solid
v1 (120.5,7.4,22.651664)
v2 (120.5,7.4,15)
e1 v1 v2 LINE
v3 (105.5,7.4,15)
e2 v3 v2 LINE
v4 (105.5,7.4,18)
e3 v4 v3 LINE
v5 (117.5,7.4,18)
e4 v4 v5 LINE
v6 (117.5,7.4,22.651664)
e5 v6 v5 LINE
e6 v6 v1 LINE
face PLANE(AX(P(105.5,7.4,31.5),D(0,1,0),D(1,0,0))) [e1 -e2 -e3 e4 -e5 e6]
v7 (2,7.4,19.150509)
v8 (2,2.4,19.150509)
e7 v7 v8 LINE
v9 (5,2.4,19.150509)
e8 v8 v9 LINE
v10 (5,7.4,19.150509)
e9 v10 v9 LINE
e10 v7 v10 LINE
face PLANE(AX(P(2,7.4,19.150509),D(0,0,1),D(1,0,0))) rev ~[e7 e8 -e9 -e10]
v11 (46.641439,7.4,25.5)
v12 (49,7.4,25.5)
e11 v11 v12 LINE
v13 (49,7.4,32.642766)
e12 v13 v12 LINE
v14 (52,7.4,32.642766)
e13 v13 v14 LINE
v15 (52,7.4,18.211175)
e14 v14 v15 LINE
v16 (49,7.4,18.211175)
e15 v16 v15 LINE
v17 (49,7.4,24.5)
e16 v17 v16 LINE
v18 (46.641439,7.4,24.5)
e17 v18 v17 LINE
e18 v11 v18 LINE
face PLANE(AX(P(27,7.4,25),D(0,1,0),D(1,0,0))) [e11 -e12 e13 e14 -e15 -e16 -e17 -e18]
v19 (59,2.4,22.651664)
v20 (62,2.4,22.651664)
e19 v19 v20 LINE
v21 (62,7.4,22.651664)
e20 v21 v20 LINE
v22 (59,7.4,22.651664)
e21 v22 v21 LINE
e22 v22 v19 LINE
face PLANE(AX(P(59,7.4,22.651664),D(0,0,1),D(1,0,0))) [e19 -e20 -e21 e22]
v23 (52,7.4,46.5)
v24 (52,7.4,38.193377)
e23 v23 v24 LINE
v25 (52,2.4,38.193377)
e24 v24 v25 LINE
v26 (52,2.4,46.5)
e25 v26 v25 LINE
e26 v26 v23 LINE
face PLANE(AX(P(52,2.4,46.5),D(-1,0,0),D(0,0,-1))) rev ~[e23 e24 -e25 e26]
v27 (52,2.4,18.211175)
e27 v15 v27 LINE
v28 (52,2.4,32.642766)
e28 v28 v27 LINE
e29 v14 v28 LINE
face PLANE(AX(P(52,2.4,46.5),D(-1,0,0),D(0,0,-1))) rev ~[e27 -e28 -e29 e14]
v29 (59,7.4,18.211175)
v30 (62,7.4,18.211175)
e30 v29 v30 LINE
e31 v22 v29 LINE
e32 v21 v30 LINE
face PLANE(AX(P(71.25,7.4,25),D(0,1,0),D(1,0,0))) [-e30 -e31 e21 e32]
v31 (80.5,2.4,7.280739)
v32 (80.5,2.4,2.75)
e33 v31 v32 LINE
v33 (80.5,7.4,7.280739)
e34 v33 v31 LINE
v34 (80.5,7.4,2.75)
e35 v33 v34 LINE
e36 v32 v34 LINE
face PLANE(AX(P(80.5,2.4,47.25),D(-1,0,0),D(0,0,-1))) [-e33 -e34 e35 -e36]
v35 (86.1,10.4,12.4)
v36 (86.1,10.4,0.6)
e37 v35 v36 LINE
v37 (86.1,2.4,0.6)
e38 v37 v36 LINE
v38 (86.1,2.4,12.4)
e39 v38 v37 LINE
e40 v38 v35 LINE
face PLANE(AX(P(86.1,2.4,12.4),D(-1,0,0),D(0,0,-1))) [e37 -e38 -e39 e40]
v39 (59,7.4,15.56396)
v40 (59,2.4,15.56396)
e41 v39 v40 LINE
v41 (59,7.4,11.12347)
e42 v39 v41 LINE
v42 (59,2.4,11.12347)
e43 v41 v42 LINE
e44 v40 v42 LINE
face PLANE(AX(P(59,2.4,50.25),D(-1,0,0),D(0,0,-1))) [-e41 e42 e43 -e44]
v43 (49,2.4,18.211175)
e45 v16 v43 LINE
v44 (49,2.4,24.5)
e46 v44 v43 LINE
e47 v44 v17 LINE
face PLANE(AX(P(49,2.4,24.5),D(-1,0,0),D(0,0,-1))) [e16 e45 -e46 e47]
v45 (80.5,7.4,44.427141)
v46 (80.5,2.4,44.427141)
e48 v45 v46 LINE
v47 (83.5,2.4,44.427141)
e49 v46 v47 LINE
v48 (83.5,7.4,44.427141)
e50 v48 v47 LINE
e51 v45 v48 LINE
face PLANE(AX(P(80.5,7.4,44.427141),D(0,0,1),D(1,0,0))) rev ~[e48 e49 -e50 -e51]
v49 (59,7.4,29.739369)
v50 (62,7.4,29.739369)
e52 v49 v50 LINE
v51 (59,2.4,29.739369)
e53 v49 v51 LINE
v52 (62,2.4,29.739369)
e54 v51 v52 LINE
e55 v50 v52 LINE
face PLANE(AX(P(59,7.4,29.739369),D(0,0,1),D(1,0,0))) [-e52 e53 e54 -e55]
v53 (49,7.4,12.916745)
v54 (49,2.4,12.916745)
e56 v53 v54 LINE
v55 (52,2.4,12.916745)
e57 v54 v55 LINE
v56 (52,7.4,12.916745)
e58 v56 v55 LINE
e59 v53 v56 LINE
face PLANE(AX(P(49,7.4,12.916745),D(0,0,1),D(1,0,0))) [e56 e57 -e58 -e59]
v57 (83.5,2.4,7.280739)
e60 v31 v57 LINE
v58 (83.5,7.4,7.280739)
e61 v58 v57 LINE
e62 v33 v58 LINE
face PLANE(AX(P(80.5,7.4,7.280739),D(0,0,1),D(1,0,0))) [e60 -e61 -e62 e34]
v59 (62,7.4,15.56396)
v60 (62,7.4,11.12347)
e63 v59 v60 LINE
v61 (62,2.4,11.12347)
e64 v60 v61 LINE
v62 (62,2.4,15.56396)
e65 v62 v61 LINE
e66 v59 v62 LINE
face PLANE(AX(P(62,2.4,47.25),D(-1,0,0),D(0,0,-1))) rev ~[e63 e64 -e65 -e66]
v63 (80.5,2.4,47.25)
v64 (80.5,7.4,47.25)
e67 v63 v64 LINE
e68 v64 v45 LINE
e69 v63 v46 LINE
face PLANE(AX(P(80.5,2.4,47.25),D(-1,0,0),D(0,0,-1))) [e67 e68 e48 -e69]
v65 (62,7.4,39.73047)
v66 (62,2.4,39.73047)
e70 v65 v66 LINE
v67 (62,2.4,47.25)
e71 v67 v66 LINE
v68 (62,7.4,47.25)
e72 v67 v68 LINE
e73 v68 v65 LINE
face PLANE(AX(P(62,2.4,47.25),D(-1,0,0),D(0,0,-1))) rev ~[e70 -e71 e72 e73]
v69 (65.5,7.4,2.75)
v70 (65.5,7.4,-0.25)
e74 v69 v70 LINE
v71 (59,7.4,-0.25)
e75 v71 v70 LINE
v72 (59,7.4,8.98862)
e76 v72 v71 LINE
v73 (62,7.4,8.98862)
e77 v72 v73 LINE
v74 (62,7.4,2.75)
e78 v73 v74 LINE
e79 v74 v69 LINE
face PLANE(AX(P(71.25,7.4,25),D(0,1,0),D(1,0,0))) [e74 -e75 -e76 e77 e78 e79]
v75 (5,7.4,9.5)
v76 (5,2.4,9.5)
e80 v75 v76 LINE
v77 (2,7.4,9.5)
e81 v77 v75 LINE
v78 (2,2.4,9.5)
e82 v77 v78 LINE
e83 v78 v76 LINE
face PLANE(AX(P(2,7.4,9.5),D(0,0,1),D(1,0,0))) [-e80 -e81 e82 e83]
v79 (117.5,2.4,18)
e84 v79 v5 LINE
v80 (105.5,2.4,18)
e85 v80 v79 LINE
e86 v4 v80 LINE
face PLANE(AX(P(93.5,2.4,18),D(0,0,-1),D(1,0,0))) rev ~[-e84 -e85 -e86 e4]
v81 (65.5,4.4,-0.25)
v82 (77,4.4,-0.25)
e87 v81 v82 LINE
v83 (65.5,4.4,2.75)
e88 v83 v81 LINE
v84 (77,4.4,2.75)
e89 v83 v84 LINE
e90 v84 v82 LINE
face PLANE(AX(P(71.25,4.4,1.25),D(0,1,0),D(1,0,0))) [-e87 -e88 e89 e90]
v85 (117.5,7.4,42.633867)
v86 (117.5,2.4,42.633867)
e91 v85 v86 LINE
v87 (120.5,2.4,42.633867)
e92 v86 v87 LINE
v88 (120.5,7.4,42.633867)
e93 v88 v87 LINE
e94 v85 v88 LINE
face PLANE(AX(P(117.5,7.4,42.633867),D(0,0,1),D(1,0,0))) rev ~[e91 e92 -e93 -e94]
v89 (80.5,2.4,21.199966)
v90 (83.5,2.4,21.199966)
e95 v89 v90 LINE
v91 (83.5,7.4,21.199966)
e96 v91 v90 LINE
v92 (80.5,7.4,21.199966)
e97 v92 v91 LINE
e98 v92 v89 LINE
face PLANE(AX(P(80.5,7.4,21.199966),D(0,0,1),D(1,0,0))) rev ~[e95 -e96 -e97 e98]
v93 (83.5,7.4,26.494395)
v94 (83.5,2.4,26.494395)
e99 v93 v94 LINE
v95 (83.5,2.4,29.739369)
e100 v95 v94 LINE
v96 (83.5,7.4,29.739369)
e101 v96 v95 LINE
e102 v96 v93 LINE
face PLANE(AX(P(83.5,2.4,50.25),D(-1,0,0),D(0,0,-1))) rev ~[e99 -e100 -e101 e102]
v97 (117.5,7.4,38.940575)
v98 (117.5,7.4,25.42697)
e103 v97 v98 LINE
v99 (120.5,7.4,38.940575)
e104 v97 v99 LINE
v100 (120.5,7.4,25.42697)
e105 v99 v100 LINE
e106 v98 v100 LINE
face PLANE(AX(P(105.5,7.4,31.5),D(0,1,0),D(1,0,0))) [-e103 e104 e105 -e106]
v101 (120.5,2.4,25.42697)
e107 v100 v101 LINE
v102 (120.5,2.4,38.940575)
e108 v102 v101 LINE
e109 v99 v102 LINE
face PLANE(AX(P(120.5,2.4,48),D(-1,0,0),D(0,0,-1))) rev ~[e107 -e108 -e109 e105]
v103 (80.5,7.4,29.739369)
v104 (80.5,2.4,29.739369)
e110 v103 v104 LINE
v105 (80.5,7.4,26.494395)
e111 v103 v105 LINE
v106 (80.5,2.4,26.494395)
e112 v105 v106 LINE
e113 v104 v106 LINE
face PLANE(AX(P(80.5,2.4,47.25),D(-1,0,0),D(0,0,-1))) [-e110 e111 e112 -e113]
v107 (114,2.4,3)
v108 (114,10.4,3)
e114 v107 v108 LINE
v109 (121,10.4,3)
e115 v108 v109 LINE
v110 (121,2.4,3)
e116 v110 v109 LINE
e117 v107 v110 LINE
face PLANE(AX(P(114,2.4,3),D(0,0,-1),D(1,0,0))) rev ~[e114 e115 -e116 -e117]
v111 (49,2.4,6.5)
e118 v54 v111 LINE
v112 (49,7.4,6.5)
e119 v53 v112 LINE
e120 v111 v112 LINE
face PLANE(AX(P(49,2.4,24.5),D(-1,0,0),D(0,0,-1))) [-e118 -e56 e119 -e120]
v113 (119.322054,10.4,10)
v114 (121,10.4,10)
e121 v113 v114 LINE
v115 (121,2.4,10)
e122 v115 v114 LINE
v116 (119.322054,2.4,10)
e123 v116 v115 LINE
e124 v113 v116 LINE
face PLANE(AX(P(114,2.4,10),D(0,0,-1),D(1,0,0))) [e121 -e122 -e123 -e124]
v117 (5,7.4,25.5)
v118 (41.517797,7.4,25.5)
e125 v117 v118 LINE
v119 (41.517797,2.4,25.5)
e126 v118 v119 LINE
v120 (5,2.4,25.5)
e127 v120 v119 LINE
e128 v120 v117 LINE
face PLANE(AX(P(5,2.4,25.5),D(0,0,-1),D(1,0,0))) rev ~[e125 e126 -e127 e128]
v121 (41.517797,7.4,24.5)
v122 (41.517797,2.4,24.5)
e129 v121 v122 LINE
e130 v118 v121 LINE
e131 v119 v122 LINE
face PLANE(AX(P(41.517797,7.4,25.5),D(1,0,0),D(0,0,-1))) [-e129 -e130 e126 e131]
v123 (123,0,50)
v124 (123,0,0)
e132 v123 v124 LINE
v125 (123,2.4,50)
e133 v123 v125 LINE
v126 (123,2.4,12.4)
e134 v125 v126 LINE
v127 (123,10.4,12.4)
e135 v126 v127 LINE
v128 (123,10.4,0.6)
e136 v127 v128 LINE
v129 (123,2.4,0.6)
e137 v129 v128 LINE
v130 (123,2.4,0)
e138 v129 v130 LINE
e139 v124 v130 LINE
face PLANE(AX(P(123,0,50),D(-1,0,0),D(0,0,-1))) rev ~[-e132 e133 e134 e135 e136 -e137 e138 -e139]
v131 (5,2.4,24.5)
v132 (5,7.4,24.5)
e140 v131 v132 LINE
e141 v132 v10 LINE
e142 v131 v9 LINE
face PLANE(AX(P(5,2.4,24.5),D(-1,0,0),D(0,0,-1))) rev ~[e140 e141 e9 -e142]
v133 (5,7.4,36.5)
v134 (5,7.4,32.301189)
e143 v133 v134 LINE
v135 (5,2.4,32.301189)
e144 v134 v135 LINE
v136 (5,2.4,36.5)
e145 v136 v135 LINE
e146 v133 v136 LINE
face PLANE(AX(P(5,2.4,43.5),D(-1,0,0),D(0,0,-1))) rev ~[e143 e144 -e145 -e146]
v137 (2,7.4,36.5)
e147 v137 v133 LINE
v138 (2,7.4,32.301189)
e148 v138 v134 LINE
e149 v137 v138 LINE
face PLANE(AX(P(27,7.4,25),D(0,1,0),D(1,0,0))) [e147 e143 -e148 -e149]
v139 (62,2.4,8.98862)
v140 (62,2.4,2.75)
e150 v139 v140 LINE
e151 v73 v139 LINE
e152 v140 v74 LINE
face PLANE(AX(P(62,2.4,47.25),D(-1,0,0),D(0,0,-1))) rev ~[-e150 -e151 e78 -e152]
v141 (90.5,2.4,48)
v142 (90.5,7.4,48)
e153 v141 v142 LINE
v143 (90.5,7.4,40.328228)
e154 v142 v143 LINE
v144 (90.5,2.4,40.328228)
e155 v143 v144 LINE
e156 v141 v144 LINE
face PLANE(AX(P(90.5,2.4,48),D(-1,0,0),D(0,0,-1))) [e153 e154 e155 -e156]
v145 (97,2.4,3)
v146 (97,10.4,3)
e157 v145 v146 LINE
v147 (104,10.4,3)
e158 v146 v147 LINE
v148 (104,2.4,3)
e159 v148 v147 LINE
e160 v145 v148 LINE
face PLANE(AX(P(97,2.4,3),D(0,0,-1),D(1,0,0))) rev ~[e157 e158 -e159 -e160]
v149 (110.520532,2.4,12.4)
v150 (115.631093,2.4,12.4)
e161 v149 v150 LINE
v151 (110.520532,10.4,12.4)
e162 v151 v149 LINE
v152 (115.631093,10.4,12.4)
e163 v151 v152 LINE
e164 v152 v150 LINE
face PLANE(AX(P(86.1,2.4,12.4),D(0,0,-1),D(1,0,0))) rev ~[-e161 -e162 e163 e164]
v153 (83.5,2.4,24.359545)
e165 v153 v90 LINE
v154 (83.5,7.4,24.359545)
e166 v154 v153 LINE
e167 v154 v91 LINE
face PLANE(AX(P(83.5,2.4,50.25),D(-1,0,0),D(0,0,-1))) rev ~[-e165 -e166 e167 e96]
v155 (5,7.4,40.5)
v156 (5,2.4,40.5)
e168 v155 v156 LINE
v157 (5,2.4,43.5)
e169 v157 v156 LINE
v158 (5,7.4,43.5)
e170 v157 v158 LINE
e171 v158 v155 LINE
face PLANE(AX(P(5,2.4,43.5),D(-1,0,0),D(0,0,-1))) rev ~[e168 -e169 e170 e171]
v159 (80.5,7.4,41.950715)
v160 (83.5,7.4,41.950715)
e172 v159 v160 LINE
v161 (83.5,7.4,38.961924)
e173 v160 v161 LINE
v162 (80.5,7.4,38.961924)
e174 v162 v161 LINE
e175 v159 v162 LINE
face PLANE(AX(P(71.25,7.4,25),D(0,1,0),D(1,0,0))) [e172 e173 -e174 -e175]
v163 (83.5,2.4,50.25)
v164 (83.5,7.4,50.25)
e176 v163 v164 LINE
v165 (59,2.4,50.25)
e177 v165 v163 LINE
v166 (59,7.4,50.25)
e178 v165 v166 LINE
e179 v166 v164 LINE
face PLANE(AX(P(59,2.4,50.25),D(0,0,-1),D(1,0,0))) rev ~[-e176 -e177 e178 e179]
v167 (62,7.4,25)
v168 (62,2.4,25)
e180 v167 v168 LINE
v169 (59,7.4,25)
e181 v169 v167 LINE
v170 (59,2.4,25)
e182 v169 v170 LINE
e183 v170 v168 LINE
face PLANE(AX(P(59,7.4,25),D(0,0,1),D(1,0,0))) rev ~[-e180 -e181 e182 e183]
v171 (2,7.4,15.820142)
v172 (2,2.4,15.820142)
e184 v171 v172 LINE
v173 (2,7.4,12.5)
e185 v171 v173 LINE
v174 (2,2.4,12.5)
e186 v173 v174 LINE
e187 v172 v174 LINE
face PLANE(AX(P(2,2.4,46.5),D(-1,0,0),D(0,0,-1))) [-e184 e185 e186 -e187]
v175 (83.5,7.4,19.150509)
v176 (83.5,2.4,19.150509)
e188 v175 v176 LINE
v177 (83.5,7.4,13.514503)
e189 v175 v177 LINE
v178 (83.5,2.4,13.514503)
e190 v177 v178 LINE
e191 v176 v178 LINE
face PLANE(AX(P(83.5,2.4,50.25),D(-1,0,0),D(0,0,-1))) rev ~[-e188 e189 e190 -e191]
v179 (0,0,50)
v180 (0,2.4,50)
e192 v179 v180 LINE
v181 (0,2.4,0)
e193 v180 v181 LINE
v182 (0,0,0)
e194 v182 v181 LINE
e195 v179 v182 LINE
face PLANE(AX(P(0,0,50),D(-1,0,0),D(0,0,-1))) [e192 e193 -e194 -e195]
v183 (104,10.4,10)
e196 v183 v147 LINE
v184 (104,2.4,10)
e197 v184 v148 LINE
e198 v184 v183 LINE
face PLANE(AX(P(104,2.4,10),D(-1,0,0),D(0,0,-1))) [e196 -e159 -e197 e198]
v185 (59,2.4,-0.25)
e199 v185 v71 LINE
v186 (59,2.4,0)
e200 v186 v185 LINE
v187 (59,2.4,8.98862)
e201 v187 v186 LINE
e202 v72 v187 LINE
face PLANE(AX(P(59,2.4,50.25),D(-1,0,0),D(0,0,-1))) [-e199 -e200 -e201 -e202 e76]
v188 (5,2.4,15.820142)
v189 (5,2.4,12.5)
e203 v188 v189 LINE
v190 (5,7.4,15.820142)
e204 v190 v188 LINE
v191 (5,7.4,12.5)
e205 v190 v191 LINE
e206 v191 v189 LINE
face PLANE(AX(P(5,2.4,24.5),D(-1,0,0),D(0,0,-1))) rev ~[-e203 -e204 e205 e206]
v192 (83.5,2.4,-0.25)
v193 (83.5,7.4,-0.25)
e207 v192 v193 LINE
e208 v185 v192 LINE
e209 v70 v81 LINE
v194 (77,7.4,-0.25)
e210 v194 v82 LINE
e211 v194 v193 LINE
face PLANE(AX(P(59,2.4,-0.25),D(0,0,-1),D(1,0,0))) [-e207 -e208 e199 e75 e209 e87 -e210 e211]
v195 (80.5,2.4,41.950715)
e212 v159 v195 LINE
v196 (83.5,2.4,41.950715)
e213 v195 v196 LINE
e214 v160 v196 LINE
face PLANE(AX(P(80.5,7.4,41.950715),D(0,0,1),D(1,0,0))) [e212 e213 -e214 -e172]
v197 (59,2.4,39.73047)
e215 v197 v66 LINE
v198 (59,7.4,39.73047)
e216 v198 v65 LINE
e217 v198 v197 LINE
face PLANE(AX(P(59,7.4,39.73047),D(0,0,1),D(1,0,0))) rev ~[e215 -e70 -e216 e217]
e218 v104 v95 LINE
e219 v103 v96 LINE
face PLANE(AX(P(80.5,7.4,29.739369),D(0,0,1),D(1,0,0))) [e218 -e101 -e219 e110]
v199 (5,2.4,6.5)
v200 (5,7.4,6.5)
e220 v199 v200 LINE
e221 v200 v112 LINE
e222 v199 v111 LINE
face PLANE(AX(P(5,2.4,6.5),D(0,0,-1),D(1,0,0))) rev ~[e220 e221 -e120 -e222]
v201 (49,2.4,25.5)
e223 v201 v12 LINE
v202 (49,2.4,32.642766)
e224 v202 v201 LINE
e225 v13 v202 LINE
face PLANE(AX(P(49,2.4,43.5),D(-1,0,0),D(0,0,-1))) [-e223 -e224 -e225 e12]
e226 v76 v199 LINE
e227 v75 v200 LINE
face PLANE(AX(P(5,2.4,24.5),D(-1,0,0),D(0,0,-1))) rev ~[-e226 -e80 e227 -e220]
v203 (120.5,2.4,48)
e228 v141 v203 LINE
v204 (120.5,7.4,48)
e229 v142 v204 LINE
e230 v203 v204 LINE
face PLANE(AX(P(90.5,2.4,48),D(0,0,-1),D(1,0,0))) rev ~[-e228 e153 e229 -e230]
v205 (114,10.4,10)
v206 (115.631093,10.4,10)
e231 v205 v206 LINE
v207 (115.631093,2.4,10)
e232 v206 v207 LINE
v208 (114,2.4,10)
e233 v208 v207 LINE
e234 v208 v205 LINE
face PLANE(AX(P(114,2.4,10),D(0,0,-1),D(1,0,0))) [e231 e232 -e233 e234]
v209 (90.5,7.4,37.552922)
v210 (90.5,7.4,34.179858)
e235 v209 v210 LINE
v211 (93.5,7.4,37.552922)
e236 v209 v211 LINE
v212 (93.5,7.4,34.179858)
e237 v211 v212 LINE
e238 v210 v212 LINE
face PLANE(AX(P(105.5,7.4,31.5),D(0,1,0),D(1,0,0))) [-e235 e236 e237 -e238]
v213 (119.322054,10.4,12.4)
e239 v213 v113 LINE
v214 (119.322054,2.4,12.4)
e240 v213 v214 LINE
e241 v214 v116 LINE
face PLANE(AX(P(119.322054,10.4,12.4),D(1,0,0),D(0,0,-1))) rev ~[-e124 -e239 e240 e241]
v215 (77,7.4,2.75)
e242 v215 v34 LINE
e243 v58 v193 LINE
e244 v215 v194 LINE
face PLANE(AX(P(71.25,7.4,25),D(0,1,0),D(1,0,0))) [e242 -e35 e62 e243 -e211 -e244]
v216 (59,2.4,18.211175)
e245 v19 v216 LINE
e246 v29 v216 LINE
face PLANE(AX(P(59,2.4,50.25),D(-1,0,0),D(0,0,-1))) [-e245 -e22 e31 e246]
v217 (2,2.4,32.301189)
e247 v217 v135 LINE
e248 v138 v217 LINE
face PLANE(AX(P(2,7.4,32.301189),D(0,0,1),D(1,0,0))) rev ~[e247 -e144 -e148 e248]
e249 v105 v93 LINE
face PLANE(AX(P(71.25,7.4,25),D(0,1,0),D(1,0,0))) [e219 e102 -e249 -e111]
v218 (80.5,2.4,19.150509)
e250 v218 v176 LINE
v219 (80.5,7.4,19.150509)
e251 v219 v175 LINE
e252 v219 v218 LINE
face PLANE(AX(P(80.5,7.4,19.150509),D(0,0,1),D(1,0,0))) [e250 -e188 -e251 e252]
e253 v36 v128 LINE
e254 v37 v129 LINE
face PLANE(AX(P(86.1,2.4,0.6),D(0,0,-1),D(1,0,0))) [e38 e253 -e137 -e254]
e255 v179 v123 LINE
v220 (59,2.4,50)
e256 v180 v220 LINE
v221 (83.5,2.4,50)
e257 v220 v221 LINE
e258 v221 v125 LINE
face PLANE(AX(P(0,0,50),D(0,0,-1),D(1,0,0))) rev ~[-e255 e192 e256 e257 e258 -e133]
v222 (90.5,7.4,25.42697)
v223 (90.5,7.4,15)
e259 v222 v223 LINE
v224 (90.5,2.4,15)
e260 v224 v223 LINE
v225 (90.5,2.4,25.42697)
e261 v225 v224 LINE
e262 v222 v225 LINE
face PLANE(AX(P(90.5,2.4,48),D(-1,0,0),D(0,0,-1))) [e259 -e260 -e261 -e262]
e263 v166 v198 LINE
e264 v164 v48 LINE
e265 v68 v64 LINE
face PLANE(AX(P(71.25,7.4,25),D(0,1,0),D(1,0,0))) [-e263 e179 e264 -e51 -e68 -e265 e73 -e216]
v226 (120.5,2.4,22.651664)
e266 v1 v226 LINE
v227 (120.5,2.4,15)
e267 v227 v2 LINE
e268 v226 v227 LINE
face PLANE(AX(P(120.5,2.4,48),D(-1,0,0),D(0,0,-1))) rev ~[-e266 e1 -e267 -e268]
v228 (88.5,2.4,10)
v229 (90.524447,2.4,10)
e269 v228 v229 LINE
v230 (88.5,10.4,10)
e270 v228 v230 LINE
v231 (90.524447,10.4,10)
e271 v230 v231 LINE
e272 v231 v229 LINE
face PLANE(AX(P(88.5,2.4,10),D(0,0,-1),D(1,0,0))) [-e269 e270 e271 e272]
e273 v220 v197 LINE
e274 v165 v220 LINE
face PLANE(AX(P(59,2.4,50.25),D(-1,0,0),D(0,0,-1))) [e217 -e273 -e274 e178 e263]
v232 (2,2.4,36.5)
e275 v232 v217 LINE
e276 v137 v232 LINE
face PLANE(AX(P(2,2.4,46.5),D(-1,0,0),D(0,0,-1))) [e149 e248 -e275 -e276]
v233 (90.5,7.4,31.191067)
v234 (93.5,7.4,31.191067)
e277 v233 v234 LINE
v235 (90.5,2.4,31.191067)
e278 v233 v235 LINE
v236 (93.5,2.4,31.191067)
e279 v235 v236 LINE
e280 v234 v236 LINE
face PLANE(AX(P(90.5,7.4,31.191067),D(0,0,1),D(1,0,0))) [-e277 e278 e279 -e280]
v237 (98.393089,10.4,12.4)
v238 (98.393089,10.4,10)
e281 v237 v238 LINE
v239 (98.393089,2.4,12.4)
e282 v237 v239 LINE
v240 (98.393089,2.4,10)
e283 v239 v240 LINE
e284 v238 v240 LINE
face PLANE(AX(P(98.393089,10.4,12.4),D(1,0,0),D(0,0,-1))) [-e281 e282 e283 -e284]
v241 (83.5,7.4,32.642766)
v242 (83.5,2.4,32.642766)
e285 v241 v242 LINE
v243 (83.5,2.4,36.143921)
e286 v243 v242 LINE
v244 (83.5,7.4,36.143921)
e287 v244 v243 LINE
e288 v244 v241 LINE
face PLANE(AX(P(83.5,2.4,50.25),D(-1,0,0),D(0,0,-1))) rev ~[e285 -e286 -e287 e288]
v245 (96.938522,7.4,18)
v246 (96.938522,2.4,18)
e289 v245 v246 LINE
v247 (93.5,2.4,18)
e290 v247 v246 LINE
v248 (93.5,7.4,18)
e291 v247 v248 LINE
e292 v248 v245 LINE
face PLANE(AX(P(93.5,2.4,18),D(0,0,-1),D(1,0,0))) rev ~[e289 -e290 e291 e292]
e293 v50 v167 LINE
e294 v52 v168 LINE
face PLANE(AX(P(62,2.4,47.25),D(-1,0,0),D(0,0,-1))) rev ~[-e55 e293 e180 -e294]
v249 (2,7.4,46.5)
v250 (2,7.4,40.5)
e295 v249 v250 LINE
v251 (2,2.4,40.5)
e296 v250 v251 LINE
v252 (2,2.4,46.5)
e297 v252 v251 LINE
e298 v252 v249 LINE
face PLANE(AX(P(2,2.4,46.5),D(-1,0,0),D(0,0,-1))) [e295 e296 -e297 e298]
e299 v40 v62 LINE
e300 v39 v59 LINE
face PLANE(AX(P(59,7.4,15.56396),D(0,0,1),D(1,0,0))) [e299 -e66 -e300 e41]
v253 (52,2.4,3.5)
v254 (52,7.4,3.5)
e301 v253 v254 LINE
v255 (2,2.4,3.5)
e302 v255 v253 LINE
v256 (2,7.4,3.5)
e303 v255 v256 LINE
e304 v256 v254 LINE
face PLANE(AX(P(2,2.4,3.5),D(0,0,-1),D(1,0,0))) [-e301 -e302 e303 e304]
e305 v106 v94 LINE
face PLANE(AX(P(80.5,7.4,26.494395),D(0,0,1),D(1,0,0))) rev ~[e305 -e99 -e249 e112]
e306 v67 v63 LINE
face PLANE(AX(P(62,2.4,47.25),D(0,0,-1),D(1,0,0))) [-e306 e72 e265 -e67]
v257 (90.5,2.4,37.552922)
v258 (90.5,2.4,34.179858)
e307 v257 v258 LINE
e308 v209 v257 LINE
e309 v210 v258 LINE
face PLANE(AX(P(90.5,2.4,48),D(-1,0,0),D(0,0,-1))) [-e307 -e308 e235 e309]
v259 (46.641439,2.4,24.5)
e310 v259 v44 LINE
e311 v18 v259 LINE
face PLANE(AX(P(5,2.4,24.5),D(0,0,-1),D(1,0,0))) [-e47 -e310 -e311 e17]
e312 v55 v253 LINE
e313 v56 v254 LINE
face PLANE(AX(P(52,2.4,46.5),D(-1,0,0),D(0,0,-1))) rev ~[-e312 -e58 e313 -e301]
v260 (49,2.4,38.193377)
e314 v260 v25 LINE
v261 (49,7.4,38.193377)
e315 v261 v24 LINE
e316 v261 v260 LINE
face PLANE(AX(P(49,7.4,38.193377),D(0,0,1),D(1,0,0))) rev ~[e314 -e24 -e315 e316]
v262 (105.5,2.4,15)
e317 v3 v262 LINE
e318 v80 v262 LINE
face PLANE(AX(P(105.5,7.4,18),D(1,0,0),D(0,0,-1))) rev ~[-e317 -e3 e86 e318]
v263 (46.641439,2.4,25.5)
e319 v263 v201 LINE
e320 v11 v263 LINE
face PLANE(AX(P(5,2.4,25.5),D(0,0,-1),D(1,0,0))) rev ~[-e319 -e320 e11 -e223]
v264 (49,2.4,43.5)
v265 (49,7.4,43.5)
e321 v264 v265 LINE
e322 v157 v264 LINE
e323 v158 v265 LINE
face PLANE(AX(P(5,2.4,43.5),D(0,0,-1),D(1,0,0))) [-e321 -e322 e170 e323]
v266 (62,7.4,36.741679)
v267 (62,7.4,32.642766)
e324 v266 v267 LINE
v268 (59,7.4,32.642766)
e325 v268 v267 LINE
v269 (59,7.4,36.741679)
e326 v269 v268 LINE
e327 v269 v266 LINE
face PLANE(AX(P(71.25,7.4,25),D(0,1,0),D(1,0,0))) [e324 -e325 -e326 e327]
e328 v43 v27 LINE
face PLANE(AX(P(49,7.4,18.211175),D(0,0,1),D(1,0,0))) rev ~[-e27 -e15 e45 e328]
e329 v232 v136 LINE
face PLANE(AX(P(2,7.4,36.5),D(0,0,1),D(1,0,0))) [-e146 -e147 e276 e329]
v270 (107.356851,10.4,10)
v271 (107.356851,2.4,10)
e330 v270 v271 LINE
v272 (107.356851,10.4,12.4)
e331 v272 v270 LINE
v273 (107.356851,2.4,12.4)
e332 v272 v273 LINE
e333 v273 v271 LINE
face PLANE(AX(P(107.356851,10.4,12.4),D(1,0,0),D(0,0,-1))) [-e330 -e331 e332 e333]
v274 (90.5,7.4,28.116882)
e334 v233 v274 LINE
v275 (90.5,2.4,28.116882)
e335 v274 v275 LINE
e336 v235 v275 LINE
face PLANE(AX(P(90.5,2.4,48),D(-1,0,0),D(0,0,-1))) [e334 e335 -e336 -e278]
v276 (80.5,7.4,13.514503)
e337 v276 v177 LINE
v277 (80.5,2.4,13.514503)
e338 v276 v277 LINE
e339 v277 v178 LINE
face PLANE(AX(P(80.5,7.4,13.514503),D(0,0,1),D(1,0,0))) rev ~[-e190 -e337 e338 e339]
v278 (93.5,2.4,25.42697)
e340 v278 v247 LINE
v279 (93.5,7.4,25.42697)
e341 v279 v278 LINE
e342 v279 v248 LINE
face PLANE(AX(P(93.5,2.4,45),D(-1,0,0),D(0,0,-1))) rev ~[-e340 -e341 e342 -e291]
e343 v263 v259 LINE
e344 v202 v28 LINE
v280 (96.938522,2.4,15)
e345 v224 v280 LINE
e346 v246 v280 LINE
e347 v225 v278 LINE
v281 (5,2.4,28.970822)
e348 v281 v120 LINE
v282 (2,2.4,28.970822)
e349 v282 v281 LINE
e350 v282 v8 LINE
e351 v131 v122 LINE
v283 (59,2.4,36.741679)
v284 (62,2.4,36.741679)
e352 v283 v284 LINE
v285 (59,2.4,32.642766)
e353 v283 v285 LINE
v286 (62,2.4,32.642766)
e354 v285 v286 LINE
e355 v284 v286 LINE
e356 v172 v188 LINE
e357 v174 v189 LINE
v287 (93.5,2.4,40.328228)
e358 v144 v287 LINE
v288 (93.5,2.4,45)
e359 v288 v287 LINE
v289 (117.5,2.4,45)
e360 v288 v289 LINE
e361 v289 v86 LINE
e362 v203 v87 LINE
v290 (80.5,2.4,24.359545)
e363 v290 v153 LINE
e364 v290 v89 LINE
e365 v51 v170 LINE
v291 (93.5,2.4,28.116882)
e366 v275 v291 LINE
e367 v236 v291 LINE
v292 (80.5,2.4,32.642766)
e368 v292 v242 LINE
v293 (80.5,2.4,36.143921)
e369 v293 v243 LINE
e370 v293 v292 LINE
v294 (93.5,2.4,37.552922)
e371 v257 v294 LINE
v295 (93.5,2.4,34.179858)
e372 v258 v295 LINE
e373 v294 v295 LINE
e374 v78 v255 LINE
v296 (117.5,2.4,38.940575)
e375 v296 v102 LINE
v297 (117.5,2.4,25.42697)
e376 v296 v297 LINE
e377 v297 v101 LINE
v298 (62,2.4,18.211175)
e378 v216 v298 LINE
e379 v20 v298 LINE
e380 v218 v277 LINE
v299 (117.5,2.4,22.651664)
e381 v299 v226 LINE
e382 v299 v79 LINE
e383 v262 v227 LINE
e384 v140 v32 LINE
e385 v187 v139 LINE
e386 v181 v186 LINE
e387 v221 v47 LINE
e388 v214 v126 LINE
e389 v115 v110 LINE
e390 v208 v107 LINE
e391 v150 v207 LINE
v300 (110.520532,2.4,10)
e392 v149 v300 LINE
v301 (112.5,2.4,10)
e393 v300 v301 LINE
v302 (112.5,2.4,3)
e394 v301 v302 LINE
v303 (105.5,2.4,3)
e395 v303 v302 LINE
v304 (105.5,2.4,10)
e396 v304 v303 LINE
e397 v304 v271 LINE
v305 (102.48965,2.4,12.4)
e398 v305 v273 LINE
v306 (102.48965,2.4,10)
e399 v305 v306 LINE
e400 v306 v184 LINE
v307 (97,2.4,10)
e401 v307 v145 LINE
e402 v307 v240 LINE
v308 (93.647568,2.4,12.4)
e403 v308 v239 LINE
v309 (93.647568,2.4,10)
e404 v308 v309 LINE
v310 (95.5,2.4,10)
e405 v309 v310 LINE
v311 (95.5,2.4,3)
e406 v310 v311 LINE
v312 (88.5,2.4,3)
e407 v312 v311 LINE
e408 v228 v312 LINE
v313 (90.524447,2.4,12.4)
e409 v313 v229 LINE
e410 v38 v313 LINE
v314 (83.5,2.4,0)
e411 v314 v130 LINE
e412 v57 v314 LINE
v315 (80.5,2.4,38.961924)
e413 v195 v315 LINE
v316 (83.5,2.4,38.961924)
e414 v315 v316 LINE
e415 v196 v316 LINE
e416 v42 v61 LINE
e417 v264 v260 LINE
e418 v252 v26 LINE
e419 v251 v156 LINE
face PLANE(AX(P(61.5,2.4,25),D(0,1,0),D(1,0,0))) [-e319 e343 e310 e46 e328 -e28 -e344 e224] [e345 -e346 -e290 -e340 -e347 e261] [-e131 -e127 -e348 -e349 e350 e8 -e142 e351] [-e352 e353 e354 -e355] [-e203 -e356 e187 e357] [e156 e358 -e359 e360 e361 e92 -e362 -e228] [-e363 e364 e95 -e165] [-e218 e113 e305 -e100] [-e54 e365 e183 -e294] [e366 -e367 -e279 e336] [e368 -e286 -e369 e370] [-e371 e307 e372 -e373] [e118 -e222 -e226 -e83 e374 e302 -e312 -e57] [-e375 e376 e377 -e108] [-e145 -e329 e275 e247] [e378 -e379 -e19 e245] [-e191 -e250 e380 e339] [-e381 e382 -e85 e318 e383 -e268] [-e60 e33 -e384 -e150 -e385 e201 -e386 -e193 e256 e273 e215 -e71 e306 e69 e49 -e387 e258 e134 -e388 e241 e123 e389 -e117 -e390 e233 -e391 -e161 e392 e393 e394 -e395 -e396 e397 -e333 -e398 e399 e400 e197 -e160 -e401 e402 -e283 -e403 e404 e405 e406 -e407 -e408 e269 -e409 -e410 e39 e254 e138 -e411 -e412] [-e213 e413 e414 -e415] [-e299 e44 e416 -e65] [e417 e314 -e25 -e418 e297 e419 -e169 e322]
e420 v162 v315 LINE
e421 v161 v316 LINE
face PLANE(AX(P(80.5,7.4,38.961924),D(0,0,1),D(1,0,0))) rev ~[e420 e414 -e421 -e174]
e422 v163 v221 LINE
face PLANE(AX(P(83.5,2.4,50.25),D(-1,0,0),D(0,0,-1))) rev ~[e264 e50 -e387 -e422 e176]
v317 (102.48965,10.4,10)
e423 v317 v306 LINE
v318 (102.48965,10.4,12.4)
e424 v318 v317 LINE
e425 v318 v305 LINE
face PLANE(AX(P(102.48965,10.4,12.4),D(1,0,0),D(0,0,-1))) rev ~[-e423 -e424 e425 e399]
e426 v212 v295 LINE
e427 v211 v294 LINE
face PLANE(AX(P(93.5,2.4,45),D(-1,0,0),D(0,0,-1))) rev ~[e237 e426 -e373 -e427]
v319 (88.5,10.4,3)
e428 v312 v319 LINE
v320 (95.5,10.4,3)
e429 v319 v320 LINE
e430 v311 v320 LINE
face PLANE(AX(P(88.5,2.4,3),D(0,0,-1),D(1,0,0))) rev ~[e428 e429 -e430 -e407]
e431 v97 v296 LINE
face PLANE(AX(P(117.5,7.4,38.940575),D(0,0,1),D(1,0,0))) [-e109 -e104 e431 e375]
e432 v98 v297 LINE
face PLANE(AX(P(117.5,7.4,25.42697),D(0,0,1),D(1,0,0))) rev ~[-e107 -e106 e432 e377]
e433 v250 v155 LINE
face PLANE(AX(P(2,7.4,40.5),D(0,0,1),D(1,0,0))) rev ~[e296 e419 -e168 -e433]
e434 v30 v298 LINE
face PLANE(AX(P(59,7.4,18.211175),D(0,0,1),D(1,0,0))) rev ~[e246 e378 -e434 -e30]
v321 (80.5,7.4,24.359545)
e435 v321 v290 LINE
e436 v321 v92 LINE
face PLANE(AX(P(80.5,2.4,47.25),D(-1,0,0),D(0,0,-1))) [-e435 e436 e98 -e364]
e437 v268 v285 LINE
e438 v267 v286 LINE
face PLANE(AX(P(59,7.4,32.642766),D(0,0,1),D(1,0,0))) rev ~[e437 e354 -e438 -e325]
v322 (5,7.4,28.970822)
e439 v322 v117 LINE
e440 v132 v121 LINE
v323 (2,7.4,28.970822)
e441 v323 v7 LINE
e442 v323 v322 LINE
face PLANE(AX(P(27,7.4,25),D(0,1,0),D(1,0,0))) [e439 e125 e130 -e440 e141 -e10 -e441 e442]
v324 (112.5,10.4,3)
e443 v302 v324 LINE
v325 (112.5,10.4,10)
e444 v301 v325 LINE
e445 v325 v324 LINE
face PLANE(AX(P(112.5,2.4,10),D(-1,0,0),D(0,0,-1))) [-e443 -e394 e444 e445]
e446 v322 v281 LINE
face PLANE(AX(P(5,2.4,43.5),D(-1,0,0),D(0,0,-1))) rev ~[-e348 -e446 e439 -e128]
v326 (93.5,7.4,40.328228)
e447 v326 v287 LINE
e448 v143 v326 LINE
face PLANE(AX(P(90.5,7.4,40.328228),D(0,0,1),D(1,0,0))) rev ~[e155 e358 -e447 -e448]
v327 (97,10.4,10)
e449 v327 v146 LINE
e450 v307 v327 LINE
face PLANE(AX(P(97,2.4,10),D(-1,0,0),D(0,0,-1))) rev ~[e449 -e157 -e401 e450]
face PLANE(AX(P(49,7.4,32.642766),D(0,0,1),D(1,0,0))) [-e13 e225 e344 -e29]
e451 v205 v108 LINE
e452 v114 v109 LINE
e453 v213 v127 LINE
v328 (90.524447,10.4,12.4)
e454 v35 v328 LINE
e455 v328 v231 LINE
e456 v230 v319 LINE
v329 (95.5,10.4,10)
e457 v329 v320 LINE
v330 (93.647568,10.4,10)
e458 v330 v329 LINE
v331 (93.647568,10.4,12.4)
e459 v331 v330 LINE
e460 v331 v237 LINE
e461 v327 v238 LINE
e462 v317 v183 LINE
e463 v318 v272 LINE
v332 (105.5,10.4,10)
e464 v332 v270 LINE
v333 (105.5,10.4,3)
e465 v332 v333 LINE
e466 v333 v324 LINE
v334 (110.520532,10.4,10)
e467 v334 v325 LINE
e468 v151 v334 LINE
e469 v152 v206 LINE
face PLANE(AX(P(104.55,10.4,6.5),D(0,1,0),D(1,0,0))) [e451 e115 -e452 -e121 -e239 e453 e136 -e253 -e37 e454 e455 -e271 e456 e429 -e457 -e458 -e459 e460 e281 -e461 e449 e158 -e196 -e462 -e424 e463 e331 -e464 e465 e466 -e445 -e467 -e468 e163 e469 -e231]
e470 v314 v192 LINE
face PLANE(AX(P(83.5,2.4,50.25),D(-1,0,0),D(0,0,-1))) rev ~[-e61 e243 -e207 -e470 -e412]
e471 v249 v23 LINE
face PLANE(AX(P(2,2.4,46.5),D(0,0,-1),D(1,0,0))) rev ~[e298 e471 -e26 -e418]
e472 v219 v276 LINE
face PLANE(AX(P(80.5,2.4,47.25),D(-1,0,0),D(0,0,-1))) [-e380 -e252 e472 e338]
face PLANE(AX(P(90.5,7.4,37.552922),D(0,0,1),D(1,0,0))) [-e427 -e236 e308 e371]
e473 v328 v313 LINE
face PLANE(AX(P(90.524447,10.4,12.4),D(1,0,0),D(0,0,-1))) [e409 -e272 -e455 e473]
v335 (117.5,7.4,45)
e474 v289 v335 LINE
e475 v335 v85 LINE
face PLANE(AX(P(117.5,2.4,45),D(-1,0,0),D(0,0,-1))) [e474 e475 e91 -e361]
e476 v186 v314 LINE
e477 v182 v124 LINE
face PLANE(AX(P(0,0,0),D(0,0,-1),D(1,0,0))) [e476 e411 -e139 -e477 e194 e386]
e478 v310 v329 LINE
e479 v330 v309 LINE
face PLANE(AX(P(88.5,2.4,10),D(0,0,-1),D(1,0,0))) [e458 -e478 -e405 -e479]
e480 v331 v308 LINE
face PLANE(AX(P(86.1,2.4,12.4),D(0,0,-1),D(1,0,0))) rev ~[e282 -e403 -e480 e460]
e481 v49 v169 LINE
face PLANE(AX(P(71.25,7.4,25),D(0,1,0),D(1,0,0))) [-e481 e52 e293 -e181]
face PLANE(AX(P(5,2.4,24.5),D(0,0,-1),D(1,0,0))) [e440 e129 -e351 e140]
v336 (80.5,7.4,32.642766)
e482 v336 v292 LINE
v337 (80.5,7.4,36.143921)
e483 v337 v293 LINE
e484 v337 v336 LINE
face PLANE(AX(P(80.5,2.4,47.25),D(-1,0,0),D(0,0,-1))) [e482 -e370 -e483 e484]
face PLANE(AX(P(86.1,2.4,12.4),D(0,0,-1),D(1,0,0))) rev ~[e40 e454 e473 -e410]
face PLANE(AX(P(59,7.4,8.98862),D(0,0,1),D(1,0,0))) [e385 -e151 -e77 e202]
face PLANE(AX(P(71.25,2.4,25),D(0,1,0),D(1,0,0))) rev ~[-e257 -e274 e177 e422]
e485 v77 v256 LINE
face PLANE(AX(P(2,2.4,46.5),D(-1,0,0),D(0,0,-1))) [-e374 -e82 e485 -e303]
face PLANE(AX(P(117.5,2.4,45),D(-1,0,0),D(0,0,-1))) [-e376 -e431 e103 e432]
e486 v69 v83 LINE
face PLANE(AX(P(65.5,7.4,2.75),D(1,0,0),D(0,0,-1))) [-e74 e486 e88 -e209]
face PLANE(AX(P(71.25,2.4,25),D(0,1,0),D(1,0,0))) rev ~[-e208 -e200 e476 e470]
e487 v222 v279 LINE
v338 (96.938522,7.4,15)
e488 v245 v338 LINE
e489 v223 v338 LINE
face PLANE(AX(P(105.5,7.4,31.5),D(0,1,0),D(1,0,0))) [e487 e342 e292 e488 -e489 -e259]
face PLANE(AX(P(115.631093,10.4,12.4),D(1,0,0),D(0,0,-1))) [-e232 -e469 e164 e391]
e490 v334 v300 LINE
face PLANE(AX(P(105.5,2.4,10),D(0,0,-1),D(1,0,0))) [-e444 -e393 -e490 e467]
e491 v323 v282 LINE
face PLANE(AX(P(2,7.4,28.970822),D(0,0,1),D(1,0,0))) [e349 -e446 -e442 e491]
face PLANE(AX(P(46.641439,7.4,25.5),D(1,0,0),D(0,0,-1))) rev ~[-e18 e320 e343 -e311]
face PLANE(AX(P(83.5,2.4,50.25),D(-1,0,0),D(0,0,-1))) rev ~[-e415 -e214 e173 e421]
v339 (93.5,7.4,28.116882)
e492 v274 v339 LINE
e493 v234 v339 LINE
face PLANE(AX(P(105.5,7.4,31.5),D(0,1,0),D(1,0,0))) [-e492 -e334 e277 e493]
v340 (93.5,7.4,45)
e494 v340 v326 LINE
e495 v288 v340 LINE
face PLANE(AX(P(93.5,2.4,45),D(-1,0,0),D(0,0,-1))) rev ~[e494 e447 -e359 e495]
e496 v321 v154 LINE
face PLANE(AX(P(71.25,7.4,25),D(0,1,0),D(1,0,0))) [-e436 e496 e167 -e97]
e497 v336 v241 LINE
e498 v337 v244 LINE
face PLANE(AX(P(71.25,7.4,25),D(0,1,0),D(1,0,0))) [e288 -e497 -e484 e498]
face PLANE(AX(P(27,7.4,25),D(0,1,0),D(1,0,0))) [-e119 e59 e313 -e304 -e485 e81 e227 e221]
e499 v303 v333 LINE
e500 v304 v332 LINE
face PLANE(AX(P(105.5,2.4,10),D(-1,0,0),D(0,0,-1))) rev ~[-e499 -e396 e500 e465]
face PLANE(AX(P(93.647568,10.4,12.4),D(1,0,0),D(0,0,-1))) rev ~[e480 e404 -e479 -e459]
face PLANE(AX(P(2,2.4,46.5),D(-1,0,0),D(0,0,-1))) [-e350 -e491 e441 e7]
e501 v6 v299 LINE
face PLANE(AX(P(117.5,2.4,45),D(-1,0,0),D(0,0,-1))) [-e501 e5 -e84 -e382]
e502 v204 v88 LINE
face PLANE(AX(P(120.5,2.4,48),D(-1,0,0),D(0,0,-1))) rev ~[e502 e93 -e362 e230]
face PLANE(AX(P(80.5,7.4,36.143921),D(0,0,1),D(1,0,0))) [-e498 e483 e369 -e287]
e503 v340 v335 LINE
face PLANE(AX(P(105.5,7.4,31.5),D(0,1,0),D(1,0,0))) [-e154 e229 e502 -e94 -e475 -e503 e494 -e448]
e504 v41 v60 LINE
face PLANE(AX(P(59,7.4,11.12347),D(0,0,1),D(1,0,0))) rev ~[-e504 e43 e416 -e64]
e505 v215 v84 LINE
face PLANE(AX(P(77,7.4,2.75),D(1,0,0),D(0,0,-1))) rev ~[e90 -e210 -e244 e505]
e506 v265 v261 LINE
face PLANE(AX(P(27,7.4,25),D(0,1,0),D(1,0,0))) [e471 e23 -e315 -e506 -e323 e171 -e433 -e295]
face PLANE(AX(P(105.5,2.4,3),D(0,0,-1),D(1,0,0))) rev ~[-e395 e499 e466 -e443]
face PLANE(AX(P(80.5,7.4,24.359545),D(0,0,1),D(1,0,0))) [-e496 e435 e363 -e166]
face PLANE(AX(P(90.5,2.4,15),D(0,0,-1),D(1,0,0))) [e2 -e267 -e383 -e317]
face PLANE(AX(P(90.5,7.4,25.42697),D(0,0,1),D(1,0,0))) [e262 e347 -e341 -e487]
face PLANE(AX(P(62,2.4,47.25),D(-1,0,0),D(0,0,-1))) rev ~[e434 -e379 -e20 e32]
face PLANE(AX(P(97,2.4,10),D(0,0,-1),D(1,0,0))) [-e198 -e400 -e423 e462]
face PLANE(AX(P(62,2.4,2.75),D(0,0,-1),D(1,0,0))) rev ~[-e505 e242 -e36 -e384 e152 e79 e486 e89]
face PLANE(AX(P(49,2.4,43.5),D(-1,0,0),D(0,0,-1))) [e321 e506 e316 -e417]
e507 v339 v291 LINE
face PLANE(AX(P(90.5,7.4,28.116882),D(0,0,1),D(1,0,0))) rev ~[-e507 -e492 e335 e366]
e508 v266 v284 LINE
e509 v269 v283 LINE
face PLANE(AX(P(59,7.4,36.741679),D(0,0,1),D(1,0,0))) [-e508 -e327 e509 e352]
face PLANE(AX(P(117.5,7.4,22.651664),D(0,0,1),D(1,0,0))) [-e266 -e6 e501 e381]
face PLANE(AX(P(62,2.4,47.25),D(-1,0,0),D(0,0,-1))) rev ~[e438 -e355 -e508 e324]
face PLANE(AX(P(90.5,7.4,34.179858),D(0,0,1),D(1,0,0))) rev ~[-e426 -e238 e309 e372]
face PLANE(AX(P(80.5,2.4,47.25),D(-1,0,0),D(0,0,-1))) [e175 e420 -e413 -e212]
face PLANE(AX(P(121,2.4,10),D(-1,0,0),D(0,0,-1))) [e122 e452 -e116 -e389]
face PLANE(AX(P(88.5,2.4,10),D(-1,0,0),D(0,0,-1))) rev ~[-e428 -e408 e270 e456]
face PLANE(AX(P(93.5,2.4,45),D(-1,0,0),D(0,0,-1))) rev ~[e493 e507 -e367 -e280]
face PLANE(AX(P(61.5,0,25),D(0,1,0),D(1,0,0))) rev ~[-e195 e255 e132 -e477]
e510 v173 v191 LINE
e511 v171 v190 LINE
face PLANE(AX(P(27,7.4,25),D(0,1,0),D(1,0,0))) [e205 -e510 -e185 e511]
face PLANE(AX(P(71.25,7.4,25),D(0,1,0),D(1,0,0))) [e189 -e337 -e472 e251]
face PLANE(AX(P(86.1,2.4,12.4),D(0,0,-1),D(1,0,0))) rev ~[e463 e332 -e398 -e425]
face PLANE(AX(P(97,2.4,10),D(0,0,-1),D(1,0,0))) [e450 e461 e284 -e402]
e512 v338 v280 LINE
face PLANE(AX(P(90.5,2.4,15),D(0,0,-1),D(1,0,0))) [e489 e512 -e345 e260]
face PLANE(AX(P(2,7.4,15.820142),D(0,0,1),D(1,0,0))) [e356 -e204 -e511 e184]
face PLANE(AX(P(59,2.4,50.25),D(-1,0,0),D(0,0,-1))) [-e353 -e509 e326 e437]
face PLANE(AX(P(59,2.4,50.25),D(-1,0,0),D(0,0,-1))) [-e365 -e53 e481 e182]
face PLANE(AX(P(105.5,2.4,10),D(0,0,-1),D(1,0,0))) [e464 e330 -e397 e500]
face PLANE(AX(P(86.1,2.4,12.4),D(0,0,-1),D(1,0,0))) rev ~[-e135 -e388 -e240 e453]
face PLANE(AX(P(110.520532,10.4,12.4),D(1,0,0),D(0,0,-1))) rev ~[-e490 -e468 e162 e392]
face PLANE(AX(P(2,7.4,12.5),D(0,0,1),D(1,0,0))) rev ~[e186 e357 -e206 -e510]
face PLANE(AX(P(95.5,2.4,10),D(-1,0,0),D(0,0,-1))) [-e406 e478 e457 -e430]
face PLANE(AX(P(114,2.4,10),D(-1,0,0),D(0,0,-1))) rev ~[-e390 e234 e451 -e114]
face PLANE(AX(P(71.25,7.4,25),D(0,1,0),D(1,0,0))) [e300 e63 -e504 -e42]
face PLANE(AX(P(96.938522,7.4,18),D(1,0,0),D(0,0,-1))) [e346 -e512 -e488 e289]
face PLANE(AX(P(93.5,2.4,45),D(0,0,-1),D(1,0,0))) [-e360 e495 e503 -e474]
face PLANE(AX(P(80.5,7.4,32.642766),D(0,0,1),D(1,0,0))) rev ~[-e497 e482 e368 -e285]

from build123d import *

# Parameters (mm, degrees)
SKETCH1_W           = 123
SKETCH1_H           = 50
BOSS_EXTRUDE1_DEPTH = 2.4
SKETCH2_W           = 50
SKETCH2_H           = 43
SKETCH2_W_2         = 44
SKETCH2_H_2         = 18
BOSS_EXTRUDE2_DEPTH = 5
SKETCH3_W           = 24.5
SKETCH3_H           = 50.5
SKETCH3_W_2         = 18.5
SKETCH3_H_2         = 44.5
BOSS_EXTRUDE3_DEPTH = 5
SKETCH4_W           = 11.5
SKETCH4_H           = 3
CUT_EXTRUDE2_DEPTH  = 3
SKETCH5_W           = 30
SKETCH5_H           = 33
SKETCH5_W_2         = 24
SKETCH5_H_2         = 27
BOSS_EXTRUDE5_DEPTH = 5
SKETCH6_W           = 36.9
SKETCH6_H           = 11.8
SKETCH6_W_2         = 7
SKETCH6_H_2         = 7
BOSS_EXTRUDE6_DEPTH = 8
SKETCH7_W           = 5.123641681
SKETCH7_H           = 1
CUT_EXTRUDE3_DEPTH  = 5
SKETCH8_W           = 3
SKETCH8_H           = 5.294429738
SKETCH8_H_2         = 5.550611822
SKETCH8_H_3         = 2.134850701
SKETCH8_H_4         = 2.647214869
SKETCH8_H_5         = 2.348335771
SKETCH8_H_6         = 2.903396953
SKETCH8_H_7         = 2.988790981
SKETCH8_H_8         = 6.233764046
SKETCH8_H_9         = 2.049456673
SKETCH8_H_10        = 2.1348507
SKETCH8_H_11        = 2.818002924
SKETCH8_H_12        = 2.476426813
SKETCH8_H_13        = 2.689911883
SKETCH8_H_14        = 2.775305911
SKETCH8_H_15        = 3.693291713
SKETCH8_W_2         = 8.561478369
SKETCH8_H_16        = 3
CUT_EXTRUDE4_DEPTH  = 5
SKETCH9_W           = 3.123120747
SKETCH9_H           = 2.4
SKETCH9_W_2         = 4.09656098
SKETCH9_W_3         = 3.163680757
SKETCH9_W_4         = 3.690960883
CUT_EXTRUDE5_DEPTH  = 8
SKETCH10_W          = 3
SKETCH10_H          = 3
SKETCH10_H_2        = 3.330367093
SKETCH10_H_3        = 4
CUT_EXTRUDE6_DEPTH  = 5


with BuildPart() as part:
    # Sketch1 → Boss-Extrude1 (new body)
    with BuildSketch(Plane(origin=(0, 0, 0), x_dir=(1, 0, 0), z_dir=(0, 1, 0))):
        with Locations((61.5, -25)):
            Rectangle(SKETCH1_W, SKETCH1_H)
    extrude(amount=BOSS_EXTRUDE1_DEPTH)

    # Sketch2 → Boss-Extrude2 (add)
    with BuildSketch(Plane(origin=(0, 2.4, 0), x_dir=(1, 0, 0), z_dir=(0, 1, 0))):
        with Locations((27, -25)):
            Rectangle(SKETCH2_W, SKETCH2_H)
        with Locations((27, -15.5)):
            Rectangle(SKETCH2_W_2, SKETCH2_H_2, mode=Mode.SUBTRACT)
        with Locations((27, -34.5)):
            Rectangle(SKETCH2_W_2, SKETCH2_H_2, mode=Mode.SUBTRACT)
    extrude(amount=BOSS_EXTRUDE2_DEPTH)

    # Sketch3 → Boss-Extrude3 (add)
    with BuildSketch(Plane(origin=(0, 2.4, 0), x_dir=(1, 0, 0), z_dir=(0, 1, 0))):
        with Locations((71.25, -25)):
            Rectangle(SKETCH3_W, SKETCH3_H)
        with Locations((71.25, -25)):
            Rectangle(SKETCH3_W_2, SKETCH3_H_2, mode=Mode.SUBTRACT)
    extrude(amount=BOSS_EXTRUDE3_DEPTH)

    # Sketch4 → Cut-Extrude2 (cut)
    with BuildSketch(Plane(origin=(0, 7.4, 0), x_dir=(1, 0, 0), z_dir=(0, 1, 0))):
        with Locations((71.25, -1.25)):
            Rectangle(SKETCH4_W, SKETCH4_H)
    extrude(amount=-CUT_EXTRUDE2_DEPTH, mode=Mode.SUBTRACT)

    # Sketch5 → Boss-Extrude5 (add)
    with BuildSketch(Plane(origin=(0, 2.4, 0), x_dir=(1, 0, 0), z_dir=(0, 1, 0))):
        with Locations((105.5, -31.5)):
            Rectangle(SKETCH5_W, SKETCH5_H)
        with Locations((105.5, -31.5)):
            Rectangle(SKETCH5_W_2, SKETCH5_H_2, mode=Mode.SUBTRACT)
    extrude(amount=BOSS_EXTRUDE5_DEPTH)

    # Sketch6 → Boss-Extrude6 (add)
    with BuildSketch(Plane(origin=(0, 2.4, 0), x_dir=(1, 0, 0), z_dir=(0, 1, 0))):
        with Locations((104.55, -6.5)):
            Rectangle(SKETCH6_W, SKETCH6_H)
        with Locations((92, -6.5)):
            Rectangle(SKETCH6_W_2, SKETCH6_H_2, mode=Mode.SUBTRACT)
        with Locations((100.5, -6.5)):
            Rectangle(SKETCH6_W_2, SKETCH6_H_2, mode=Mode.SUBTRACT)
        with Locations((109, -6.5)):
            Rectangle(SKETCH6_W_2, SKETCH6_H_2, mode=Mode.SUBTRACT)
        with Locations((117.5, -6.5)):
            Rectangle(SKETCH6_W_2, SKETCH6_H_2, mode=Mode.SUBTRACT)
    extrude(amount=BOSS_EXTRUDE6_DEPTH)

    # Sketch7 → Cut-Extrude3 (cut)
    with BuildSketch(Plane(origin=(0, 7.4, 0), x_dir=(1, 0, 0), z_dir=(0, 1, 0))):
        with Locations((44.079618283, -25)):
            Rectangle(SKETCH7_W, SKETCH7_H)
    extrude(amount=-CUT_EXTRUDE3_DEPTH, mode=Mode.SUBTRACT)

    # Sketch8 → Cut-Extrude4 (cut)
    with BuildSketch(Plane(origin=(0, 7.4, 0), x_dir=(1, 0, 0), z_dir=(0, 1, 0))):
        with Locations((50.5, -15.563959903)):
            Rectangle(SKETCH8_W, SKETCH8_H)
        with Locations((50.5, -35.418071419)):
            Rectangle(SKETCH8_W, SKETCH8_H_2)
        with Locations((60.5, -10.056045096)):
            Rectangle(SKETCH8_W, SKETCH8_H_3)
        with Locations((60.5, -16.887567338)):
            Rectangle(SKETCH8_W, SKETCH8_H_4)
        with Locations((60.5, -23.825832115)):
            Rectangle(SKETCH8_W, SKETCH8_H_5)
        with Locations((60.5, -31.191067032)):
            Rectangle(SKETCH8_W, SKETCH8_H_6)
        with Locations((60.5, -38.236074344)):
            Rectangle(SKETCH8_W, SKETCH8_H_7)
        with Locations((82, -10.397621207)):
            Rectangle(SKETCH8_W, SKETCH8_H_8)
        with Locations((82, -20.175237417)):
            Rectangle(SKETCH8_W, SKETCH8_H_9)
        with Locations((82, -25.42697014)):
            Rectangle(SKETCH8_W, SKETCH8_H_10)
        with Locations((82, -31.191067032)):
            Rectangle(SKETCH8_W, SKETCH8_H_6)
        with Locations((82, -37.55292212)):
            Rectangle(SKETCH8_W, SKETCH8_H_11)
        with Locations((82, -43.188927969)):
            Rectangle(SKETCH8_W, SKETCH8_H_12)
        with Locations((92, -26.771926082)):
            Rectangle(SKETCH8_W, SKETCH8_H_13)
        with Locations((92, -32.685462523)):
            Rectangle(SKETCH8_W, SKETCH8_H_7)
        with Locations((92, -38.940575076)):
            Rectangle(SKETCH8_W, SKETCH8_H_14)
        with Locations((119, -40.787220932)):
            Rectangle(SKETCH8_W, SKETCH8_H_15)
        with Locations((119, -24.039317184)):
            Rectangle(SKETCH8_W, SKETCH8_H_14)
        with Locations((101.219260816, -16.5)):
            Rectangle(SKETCH8_W_2, SKETCH8_H_16)
    extrude(amount=-CUT_EXTRUDE4_DEPTH, mode=Mode.SUBTRACT)

    # Sketch9 → Cut-Extrude5 (cut)
    with BuildSketch(Plane(origin=(0, 10.4, 0), x_dir=(1, 0, 0), z_dir=(0, 1, 0))):
        with Locations((92.086007163, -11.2)):
            Rectangle(SKETCH9_W, SKETCH9_H)
        with Locations((100.441369161, -11.2)):
            Rectangle(SKETCH9_W_2, SKETCH9_H)
        with Locations((108.938691194, -11.2)):
            Rectangle(SKETCH9_W_3, SKETCH9_H)
        with Locations((117.476573236, -11.2)):
            Rectangle(SKETCH9_W_4, SKETCH9_H)
    extrude(amount=-CUT_EXTRUDE5_DEPTH, mode=Mode.SUBTRACT)

    # Sketch10 → Cut-Extrude6 (cut)
    with BuildSketch(Plane(origin=(0, 7.4, 0), x_dir=(1, 0, 0), z_dir=(0, 1, 0))):
        with Locations((3.5, -11)):
            Rectangle(SKETCH10_W, SKETCH10_H)
        with Locations((3.5, -17.485325534)):
            Rectangle(SKETCH10_W, SKETCH10_H_2)
        with Locations((3.5, -30.63600585)):
            Rectangle(SKETCH10_W, SKETCH10_H_2)
        with Locations((3.5, -38.5)):
            Rectangle(SKETCH10_W, SKETCH10_H_3)
    extrude(amount=-CUT_EXTRUDE6_DEPTH, mode=Mode.SUBTRACT)


solid = part.part
